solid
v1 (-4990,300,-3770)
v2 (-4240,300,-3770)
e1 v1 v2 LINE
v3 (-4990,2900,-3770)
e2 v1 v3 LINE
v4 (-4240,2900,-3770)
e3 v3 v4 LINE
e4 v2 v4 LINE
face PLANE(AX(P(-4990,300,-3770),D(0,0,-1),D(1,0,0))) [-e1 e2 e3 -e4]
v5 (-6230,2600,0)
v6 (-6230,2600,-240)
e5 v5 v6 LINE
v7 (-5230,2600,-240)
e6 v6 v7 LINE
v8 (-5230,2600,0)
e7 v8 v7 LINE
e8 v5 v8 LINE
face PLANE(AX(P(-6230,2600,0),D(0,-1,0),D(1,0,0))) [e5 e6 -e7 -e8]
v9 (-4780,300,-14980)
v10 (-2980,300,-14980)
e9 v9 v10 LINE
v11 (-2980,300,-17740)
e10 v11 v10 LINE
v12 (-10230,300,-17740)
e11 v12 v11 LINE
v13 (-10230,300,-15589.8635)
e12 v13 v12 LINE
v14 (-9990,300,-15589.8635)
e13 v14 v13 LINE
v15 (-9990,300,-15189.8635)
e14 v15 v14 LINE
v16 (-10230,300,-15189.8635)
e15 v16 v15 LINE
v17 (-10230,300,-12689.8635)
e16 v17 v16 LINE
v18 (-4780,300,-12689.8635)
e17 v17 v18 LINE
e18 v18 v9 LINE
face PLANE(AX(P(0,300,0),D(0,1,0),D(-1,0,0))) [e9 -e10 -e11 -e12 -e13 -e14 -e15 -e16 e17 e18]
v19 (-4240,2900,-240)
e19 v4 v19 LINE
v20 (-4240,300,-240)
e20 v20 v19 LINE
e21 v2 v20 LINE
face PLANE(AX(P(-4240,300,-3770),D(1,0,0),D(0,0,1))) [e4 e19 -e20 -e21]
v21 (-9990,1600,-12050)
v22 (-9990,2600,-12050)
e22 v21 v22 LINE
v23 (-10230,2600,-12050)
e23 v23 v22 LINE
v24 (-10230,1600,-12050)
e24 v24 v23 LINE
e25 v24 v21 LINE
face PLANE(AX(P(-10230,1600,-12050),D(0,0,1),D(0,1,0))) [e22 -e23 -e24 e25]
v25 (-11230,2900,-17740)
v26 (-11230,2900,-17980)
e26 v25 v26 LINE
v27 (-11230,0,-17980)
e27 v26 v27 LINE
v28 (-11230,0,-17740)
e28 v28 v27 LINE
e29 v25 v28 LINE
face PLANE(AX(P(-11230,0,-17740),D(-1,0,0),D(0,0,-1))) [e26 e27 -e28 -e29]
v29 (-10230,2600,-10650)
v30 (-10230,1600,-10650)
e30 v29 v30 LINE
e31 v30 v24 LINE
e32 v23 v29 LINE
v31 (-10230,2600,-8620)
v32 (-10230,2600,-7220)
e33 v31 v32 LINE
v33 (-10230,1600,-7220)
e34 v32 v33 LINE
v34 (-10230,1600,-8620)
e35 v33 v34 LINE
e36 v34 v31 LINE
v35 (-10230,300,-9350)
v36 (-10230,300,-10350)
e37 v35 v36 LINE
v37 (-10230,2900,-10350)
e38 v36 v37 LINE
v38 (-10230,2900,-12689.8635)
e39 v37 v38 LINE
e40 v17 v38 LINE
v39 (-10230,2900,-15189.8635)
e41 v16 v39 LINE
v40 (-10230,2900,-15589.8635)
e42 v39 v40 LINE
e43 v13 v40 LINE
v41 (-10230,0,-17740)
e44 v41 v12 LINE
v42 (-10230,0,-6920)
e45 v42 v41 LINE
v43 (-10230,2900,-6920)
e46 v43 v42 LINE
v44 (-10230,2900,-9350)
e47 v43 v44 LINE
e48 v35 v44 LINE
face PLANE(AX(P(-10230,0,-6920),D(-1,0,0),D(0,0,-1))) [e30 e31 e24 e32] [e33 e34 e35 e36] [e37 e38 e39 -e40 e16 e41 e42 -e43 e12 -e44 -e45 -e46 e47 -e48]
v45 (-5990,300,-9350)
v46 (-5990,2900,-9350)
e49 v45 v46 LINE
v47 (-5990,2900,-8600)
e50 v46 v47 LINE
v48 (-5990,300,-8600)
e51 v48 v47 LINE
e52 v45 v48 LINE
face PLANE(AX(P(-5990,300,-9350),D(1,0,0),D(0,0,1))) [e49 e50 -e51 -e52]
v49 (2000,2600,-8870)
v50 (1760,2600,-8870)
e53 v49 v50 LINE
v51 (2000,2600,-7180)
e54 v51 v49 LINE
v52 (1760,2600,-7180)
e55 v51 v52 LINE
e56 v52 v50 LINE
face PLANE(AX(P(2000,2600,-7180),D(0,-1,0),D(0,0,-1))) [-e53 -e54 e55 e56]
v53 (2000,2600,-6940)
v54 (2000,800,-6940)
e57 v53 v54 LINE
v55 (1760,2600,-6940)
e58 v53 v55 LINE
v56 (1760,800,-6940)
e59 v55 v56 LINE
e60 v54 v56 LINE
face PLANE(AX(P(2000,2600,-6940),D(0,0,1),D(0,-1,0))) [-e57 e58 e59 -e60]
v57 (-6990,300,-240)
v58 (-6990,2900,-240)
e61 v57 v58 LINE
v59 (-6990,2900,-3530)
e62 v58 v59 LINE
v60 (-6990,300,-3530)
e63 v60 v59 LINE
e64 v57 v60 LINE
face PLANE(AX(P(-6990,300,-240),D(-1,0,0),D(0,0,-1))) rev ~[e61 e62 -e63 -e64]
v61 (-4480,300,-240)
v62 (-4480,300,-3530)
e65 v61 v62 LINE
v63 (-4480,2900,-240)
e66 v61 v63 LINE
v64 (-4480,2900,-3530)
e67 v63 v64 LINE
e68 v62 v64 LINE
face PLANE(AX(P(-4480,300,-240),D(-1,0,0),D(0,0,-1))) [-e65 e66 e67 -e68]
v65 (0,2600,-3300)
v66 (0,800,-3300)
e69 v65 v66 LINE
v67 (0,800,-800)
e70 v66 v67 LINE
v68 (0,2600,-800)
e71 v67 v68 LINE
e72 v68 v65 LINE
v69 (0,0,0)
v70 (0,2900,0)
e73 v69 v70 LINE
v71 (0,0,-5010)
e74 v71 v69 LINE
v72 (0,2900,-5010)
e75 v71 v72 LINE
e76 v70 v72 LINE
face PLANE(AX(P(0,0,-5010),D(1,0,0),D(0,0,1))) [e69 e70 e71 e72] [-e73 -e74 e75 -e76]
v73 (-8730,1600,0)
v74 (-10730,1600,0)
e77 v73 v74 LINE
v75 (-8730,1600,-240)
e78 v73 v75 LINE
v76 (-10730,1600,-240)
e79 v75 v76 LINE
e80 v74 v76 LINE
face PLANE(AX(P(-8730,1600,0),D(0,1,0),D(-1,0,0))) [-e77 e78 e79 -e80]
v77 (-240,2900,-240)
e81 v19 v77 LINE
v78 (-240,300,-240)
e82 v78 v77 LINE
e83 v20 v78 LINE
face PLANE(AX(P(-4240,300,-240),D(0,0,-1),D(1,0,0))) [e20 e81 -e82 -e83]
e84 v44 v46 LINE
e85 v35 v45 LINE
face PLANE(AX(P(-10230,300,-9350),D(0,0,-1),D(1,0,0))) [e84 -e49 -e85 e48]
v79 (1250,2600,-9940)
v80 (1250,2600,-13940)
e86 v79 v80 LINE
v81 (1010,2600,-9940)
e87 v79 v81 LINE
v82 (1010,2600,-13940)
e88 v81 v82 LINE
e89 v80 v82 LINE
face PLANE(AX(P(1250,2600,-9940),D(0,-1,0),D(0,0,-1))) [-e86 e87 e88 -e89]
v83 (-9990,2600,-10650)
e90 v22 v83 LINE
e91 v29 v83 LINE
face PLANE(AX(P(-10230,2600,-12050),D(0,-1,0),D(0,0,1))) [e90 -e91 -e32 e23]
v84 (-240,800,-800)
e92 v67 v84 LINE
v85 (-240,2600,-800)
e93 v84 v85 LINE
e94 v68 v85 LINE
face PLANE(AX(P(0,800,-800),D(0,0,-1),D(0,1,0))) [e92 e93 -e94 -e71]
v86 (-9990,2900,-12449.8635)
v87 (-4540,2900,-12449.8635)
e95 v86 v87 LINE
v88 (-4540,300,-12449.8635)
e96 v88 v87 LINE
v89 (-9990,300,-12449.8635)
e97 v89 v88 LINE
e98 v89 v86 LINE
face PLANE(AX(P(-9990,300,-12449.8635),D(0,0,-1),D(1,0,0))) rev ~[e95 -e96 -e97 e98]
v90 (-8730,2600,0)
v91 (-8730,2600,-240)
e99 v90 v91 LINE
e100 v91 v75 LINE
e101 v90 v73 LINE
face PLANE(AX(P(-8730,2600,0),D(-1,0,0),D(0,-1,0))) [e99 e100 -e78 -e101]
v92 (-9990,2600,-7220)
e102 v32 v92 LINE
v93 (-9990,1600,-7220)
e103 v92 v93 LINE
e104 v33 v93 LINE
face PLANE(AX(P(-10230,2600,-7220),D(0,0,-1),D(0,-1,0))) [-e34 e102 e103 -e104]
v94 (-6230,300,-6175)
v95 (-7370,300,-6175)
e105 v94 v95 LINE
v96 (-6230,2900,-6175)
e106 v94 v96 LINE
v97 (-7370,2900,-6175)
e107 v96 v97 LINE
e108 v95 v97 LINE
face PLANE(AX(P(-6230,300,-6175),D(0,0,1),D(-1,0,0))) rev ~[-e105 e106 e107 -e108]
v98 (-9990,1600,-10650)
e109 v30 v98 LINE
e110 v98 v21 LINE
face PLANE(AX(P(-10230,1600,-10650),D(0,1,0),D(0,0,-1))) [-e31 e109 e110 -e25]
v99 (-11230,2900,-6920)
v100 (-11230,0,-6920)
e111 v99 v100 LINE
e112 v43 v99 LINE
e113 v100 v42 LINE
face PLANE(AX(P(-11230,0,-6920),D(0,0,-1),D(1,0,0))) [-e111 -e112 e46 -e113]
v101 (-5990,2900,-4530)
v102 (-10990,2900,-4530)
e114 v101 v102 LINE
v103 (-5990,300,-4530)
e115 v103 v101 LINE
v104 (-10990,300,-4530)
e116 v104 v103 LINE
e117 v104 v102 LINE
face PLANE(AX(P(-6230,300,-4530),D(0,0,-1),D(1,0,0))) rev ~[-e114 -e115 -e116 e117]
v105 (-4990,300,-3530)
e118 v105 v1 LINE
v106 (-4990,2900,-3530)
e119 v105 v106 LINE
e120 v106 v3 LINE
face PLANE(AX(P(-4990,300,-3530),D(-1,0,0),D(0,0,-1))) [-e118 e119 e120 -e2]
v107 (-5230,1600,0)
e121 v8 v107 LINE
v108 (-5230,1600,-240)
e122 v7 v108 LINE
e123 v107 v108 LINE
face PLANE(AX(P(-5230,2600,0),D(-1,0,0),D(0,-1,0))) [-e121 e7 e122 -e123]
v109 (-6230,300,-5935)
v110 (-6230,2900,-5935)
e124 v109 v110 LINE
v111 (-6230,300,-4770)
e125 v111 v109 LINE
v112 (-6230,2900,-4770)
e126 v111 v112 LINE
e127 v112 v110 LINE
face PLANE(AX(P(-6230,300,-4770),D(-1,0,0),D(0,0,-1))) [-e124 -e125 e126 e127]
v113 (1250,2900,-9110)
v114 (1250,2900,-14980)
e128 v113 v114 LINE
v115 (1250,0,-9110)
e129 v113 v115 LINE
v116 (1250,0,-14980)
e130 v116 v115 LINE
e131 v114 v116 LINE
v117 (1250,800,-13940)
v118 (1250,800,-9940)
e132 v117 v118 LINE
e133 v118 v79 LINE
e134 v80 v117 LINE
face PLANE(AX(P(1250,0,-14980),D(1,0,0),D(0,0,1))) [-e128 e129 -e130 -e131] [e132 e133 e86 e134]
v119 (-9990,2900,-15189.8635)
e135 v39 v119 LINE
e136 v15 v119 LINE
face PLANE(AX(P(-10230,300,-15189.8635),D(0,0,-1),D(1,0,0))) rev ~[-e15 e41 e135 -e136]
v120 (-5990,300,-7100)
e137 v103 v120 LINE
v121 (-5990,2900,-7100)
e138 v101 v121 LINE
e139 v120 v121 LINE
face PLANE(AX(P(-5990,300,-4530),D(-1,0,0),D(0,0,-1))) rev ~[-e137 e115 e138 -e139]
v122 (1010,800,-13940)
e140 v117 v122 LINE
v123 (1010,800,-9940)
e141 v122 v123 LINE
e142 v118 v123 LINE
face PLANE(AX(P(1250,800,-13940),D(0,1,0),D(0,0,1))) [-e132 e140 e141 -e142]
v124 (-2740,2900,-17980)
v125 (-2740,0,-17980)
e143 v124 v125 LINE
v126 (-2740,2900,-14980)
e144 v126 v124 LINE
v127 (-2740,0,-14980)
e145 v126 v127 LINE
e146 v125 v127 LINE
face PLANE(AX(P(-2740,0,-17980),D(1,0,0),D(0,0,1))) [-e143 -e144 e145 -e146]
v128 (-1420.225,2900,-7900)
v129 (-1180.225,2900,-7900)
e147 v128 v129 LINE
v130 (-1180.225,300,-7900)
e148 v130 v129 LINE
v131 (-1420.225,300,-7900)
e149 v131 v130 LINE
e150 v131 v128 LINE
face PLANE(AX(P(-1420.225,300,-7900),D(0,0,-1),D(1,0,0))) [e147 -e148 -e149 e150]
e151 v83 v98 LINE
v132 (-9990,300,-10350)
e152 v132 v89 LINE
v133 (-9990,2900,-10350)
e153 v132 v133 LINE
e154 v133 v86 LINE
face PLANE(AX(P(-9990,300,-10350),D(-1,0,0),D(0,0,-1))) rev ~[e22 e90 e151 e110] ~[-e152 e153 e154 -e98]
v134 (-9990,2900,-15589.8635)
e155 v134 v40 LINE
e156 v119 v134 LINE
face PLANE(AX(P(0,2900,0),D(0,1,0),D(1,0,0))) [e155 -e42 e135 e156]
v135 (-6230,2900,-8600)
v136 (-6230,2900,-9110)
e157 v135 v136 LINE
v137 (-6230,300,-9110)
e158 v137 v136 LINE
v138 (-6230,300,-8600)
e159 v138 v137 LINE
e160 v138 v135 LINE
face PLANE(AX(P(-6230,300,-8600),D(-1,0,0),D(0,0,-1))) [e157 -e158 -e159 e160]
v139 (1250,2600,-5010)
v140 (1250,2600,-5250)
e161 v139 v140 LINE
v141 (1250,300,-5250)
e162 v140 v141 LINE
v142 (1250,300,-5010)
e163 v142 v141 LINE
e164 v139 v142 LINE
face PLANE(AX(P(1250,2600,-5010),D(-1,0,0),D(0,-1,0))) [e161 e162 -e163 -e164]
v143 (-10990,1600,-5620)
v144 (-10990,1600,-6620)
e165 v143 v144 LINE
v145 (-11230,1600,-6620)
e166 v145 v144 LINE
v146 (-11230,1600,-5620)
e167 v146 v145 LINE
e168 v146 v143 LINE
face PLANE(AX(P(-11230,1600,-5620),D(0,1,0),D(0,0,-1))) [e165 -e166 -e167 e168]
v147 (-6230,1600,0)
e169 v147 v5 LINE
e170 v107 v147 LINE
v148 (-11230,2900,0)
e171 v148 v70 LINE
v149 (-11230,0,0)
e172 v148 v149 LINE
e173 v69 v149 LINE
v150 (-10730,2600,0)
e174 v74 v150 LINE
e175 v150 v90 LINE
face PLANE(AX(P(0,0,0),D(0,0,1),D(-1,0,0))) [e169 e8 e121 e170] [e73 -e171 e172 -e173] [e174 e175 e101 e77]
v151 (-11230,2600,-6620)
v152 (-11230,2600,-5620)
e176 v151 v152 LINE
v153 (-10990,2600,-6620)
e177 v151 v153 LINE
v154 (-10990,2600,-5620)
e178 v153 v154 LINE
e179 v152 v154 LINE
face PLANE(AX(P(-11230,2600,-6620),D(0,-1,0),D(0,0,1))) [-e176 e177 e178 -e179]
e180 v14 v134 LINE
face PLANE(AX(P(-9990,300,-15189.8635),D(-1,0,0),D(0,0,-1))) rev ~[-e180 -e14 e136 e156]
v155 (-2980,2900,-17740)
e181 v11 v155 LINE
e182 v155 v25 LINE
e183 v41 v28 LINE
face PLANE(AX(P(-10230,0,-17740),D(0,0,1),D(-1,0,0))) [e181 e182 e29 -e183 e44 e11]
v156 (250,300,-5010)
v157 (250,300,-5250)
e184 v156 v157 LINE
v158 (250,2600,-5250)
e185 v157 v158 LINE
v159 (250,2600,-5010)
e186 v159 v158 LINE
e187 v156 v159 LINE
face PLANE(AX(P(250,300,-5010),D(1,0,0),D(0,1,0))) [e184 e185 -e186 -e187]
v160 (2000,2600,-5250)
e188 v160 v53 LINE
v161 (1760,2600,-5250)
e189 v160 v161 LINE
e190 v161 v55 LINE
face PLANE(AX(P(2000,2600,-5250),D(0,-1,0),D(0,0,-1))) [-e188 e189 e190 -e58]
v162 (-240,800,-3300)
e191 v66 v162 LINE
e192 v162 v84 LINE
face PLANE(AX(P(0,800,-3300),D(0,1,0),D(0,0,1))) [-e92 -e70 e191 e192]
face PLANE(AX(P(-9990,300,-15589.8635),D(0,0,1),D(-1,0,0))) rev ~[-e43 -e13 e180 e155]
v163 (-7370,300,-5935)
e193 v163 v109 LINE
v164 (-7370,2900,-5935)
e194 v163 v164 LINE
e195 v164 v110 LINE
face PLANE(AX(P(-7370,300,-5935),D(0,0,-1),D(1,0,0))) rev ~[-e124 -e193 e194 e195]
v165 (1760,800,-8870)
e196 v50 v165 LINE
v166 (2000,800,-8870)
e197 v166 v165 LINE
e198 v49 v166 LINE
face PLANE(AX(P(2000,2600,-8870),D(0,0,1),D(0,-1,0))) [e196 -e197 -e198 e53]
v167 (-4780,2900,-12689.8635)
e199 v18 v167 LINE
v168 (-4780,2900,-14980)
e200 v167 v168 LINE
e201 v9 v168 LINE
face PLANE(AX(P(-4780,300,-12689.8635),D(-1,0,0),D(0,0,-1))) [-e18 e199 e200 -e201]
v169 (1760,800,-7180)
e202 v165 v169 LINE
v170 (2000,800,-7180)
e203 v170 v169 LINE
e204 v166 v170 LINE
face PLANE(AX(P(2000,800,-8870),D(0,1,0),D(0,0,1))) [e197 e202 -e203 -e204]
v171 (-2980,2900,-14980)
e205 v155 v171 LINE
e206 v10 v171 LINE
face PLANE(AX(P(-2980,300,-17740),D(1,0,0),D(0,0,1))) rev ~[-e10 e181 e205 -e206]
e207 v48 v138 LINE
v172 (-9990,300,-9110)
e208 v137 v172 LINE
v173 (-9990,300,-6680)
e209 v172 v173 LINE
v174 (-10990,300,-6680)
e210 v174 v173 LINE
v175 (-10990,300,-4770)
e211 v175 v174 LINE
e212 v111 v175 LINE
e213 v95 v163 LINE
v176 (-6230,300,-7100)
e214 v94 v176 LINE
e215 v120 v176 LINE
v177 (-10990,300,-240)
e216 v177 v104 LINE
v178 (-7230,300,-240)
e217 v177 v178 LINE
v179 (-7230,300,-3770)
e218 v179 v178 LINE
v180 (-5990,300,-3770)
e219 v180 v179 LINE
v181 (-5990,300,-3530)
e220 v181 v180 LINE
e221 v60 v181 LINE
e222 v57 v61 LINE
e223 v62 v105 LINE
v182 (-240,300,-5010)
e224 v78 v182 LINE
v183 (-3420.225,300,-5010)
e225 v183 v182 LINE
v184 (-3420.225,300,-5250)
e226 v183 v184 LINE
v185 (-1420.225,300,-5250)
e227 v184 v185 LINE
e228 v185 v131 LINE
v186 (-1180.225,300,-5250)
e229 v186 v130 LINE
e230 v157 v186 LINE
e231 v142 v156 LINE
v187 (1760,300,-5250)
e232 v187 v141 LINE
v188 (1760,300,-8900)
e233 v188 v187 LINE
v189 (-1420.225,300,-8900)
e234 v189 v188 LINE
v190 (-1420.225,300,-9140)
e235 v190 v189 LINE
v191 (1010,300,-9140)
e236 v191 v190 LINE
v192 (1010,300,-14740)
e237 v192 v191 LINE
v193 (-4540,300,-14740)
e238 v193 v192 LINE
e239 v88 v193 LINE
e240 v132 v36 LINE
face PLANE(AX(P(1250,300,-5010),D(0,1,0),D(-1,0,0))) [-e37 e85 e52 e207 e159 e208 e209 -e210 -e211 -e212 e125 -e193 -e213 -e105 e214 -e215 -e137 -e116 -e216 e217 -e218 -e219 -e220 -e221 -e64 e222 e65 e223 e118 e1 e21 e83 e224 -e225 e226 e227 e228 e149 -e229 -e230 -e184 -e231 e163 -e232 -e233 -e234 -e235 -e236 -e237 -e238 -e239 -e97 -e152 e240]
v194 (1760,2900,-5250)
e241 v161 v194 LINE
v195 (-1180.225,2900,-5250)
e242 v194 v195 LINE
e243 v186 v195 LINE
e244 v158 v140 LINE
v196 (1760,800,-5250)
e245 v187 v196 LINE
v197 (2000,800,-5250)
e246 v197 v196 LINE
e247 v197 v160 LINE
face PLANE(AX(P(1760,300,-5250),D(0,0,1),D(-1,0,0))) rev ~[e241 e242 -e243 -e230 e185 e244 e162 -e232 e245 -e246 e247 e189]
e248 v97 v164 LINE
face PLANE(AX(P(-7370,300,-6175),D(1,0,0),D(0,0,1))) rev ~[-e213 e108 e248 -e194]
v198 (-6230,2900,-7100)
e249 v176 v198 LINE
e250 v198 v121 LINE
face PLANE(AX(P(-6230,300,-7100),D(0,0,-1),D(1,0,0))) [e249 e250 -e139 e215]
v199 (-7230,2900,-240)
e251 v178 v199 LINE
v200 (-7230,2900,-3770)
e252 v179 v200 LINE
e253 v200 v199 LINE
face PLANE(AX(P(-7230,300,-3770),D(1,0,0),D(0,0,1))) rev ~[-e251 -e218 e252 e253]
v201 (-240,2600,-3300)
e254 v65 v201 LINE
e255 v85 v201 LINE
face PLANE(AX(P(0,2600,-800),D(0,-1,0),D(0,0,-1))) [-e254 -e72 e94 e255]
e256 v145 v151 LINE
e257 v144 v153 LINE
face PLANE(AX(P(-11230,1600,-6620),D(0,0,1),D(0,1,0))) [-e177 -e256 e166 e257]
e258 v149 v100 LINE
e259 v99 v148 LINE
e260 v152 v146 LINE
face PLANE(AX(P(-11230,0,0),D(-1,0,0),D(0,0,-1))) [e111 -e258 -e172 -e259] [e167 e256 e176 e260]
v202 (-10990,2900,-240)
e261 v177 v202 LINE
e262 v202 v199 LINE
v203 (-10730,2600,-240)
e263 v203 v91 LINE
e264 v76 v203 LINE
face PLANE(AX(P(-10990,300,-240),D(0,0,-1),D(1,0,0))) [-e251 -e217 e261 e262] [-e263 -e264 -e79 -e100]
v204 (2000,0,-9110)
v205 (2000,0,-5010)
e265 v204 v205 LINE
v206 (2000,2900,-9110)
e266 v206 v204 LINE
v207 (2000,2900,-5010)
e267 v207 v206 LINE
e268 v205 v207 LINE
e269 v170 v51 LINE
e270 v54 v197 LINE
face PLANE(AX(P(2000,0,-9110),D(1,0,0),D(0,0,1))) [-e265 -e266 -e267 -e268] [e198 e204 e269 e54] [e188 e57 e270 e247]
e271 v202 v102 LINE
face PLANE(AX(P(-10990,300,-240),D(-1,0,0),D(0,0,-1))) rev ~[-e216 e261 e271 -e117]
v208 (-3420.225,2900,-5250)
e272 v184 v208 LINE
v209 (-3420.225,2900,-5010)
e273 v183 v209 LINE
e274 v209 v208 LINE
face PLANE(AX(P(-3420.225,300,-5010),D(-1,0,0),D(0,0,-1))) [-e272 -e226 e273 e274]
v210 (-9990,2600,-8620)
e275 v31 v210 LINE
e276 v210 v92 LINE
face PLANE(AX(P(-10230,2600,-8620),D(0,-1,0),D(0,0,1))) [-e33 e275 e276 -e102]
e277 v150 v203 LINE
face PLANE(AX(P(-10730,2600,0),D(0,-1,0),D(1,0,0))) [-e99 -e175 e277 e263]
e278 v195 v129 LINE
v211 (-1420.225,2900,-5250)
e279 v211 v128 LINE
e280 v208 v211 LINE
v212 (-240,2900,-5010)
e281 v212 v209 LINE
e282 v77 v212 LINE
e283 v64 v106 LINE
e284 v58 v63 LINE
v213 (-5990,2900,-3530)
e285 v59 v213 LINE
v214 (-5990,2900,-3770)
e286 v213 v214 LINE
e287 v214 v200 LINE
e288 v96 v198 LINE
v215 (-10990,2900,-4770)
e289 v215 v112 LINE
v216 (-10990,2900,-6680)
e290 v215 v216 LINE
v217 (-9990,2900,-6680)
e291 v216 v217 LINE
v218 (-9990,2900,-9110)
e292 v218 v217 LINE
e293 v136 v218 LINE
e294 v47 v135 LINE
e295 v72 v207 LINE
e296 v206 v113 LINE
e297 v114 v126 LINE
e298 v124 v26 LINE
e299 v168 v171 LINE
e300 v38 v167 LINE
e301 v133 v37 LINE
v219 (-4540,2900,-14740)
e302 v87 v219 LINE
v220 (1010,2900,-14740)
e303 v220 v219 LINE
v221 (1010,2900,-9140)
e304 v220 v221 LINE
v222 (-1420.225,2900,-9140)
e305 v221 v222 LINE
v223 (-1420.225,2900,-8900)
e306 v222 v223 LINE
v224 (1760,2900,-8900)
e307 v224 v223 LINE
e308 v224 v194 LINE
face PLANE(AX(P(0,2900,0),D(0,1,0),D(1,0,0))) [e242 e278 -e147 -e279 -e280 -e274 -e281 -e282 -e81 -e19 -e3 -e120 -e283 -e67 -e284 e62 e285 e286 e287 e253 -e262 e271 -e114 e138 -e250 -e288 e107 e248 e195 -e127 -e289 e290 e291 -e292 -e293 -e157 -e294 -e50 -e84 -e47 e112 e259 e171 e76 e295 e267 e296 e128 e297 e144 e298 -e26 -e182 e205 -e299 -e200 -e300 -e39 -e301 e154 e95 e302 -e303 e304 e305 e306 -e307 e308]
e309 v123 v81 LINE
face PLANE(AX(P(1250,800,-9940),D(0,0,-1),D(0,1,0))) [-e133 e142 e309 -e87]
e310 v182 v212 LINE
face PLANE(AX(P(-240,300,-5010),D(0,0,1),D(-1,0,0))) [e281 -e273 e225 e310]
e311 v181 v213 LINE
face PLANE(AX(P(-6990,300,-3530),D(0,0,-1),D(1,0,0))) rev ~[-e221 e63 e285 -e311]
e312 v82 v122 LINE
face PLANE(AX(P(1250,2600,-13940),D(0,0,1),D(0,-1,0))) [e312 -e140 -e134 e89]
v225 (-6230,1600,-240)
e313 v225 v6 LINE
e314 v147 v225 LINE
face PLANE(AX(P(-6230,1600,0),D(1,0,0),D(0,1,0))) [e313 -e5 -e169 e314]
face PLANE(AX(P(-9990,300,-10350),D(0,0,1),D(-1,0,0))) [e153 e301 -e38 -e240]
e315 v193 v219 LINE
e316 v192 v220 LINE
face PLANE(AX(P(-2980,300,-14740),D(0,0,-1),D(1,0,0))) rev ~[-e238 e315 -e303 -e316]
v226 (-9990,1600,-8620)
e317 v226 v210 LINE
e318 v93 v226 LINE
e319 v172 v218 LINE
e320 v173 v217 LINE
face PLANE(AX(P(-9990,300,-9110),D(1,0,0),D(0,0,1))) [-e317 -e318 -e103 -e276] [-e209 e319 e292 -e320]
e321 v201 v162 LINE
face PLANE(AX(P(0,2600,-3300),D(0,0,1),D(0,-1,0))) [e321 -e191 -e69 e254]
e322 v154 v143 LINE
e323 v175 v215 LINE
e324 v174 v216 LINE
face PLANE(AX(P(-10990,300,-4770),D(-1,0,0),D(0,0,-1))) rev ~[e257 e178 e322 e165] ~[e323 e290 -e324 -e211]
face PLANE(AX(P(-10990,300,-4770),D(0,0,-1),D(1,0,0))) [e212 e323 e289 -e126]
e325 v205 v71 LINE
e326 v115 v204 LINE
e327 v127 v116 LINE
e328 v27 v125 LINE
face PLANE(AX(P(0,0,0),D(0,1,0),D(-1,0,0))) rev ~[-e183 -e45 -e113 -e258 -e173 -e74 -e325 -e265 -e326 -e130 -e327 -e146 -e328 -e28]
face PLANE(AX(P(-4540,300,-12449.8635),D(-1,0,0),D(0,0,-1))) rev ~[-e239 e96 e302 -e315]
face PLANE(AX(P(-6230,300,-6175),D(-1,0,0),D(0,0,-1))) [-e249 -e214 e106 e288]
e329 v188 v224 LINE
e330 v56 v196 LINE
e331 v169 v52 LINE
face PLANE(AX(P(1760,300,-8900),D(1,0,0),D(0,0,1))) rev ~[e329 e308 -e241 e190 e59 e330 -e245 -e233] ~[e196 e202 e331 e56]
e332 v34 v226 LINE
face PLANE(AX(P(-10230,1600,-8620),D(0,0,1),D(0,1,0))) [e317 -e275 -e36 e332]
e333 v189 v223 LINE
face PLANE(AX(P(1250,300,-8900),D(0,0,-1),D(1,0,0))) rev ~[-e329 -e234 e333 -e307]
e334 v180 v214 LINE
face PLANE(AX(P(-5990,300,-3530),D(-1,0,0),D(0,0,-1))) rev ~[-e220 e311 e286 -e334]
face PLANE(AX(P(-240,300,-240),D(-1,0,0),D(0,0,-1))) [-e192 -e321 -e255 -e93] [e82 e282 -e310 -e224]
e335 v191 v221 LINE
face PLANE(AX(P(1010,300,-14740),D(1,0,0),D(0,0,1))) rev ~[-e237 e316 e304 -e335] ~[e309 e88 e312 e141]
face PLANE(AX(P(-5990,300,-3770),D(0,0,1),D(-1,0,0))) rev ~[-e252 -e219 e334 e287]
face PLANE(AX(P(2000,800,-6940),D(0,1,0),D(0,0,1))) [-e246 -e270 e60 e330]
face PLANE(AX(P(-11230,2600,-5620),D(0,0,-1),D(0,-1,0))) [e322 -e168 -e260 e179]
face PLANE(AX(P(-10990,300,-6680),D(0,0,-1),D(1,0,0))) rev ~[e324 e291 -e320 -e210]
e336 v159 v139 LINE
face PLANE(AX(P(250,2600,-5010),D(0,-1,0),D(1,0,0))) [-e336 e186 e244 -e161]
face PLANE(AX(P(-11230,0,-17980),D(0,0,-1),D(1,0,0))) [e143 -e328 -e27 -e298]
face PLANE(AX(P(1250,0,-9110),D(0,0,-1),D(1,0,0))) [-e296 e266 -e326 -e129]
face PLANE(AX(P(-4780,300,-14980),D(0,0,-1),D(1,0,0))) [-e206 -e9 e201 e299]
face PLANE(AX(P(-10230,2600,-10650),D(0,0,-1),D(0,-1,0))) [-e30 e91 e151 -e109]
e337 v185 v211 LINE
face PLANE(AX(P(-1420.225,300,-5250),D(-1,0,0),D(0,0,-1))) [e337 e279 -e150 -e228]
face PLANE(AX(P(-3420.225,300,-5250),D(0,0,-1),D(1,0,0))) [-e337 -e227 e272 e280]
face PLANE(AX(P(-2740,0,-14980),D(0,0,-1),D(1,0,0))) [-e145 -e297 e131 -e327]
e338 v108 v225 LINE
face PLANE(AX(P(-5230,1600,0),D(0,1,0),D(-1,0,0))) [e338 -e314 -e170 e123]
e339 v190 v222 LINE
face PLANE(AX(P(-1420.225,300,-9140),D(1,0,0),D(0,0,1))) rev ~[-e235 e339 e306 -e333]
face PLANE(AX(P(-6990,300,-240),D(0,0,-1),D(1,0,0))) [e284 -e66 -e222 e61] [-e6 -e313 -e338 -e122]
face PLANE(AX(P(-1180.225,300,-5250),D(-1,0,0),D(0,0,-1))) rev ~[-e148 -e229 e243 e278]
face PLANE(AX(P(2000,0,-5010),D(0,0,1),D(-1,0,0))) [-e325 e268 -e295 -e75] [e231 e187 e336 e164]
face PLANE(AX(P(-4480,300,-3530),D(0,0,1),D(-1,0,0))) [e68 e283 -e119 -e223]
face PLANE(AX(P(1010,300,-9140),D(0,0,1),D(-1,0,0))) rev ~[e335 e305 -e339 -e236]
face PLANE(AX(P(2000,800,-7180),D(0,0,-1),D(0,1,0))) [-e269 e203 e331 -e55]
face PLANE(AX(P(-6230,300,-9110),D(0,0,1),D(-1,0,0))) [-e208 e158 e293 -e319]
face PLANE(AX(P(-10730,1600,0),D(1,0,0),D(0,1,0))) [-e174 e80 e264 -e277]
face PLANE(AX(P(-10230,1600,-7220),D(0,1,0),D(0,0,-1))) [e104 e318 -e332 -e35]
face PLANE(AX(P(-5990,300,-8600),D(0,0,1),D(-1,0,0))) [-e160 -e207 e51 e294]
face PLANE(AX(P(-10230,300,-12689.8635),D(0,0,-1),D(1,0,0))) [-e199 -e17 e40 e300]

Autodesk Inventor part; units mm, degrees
ref_plane "YZ Plane" through (0, 0, 0) normal (1, 0, 0) x (0, 1, 0)
ref_plane "XZ Plane" through (0, 0, 0) normal (0, 1, 0) x (-1, 0, 0)
ref_plane "XY Plane" through (0, 0, 0) normal (0, 0, 1) x (1, 0, 0)
sketch "Skizze1" plane through (0, 0, 0) normal (0, 1, 0) x (-1, 0, 0)
  line L0 (0, 0) -> (11230, 0)
  line L1 (11230, 0) -> (11230, -6920)
  line L2 (11230, -6920) -> (10230, -6920)
  line L3 (10230, -6920) -> (10230, -17740)
  line L4 (10230, -17740) -> (11230, -17740)
  line L5 (11230, -17740) -> (11230, -17980)
  line L6 (11230, -17980) -> (2740, -17980)
  line L7 (2740, -17980) -> (2740, -14980)
  line L8 (2740, -14980) -> (-1250, -14980)
  line L9 (-1250, -14980) -> (-1250, -9110)
  line L10 (-1250, -9110) -> (-2000, -9110)
  line L11 (-2000, -9110) -> (-2000, -5010)
  line L12 (-2000, -5010) -> (0, -5010)
  line L13 (0, -5010) -> (0, 0)
  dimension "d0" = 11230
  dimension "d1" = 6920
  dimension "d2" = 1000
  dimension "d3" = 10820
  dimension "d4" = 1000
  dimension "d5" = 240
  dimension "d6" = 8490
  dimension "d11" = 3000
  dimension "d12" = 3990
  dimension "d13" = 5870
  dimension "d14" = 750
  dimension "d15" = 4100
  dimension "d16" = 2000
extrude "Fundament" add sketch "Skizze1" along normal blind 300
sketch "Skizze3" plane through (0, 300, 0) normal (0, 1, 0) x (1, 0, 0)
  line L0 (0, 5010) -> (2000, 5010) projected
  line L1 (2000, 5010) -> (2000, 9110) projected
  line L2 (2000, 9110) -> (1250, 9110) projected
  line L3 (1250, 9110) -> (1250, 14980) projected
  line L4 (1250, 14980) -> (-2740, 14980) projected
  line L5 (-11230, 0) -> (0, 0)
  line L6 (0, 0) -> (0, 5010)
  line L7 (-240, 5010) -> (-1180.225, 5010)
  line L8 (-1180.225, 5250) -> (-1180.225, 7900)
  line L9 (-1180.225, 8900) -> (1250, 8900)
  line L10 (1250, 9110) -> (1250, 14980)
  line L11 (-2740, 14980) -> (-2740, 17980)
  line L12 (-2740, 17980) -> (-11230, 17980)
  line L13 (-10230, 6920) -> (-11230, 6920)
  line L14 (-11230, 6920) -> (-11230, 0)
  line L15 (-11230, 0) -> (-11230, 6920)
  line L16 (-11230, 0) -> (-11230, 6920)
  line L17 (-11230, 6920) -> (-10230, 6920)
  line L18 (-10230, 17740) -> (-11230, 17740)
  line L19 (-10230, 17740) -> (-11230, 17740)
  line L20 (-11230, 17980) -> (-2740, 17980)
  line L21 (-11230, 17740) -> (-11230, 17980)
  line L22 (-11230, 17980) -> (-2740, 17980)
  line L23 (-2740, 17980) -> (-2740, 14980)
  line L24 (1250, 14980) -> (1250, 9110)
  line L25 (-1180.225, 7900) -> (-1180.225, 5250)
  line L26 (0, 5010) -> (0, 0)
  line L27 (0, 0) -> (-11230, 0)
  line L28 (-240, 240) -> (-240, 5010)
  line L29 (-1420.225, 5250) -> (-1420.225, 7900)
  line L30 (-1420.225, 7900) -> (-1180.225, 7900)
  line L31 (-9990, 17740) -> (-6230, 17740)
  line L32 (-5990, 17740) -> (-2980, 17740)
  line L33 (-2980, 17740) -> (-2980, 14980)
  line L34 (-2980, 14740) -> (1010, 14740)
  line L35 (1010, 14740) -> (1010, 9140)
  line L36 (1010, 9140) -> (-1420.225, 9140)
  line L37 (-1420.225, 9140) -> (-1420.225, 8900)
  line L38 (-1420.225, 8900) -> (-952.7911, 8900)
  line L39 (-3420.225, 4770) -> (-3420.225, 5010)
  line L40 (-3420.225, 5010) -> (-2980, 5010)
  line L41 (-10990, 4530) -> (-6230, 4530)
  line L42 (-6230, 4530) -> (-5990, 4530)
  line L43 (-10990, 4770) -> (-6230, 4770)
  line L44 (-6990, 240) -> (-6990, 3530)
  line L45 (-6990, 3530) -> (-5990, 3530)
  line L46 (-5990, 3530) -> (-5990, 3770)
  line L47 (-5990, 3770) -> (-7230, 3770)
  line L48 (-7230, 3770) -> (-7230, 240)
  line L49 (-4480, 240) -> (-4480, 3530)
  line L50 (-4480, 3530) -> (-4990, 3530)
  line L51 (-4990, 3530) -> (-4990, 3770)
  line L52 (-4990, 3770) -> (-4240, 3770)
  line L53 (-4240, 3770) -> (-4240, 240)
  line L54 (-10990, 6680) -> (-9990, 6680)
  line L55 (-10230, 6920) -> (-10230, 17740) projected
  line L56 (-10230, 6920) -> (-10230, 9350)
  line L57 (-10230, 9350) -> (-5990, 9350)
  line L58 (-5990, 9350) -> (-5990, 8600)
  line L59 (-5990, 8600) -> (-6230, 8600)
  line L60 (-6230, 8600) -> (-6230, 9110)
  line L61 (-6230, 9110) -> (-9990, 9110)
  line L62 (-9990, 9110) -> (-9990, 6680)
  line L63 (-5990, 4530) -> (-5990, 7100)
  line L64 (-5990, 7100) -> (-5991.4024, 7100)
  line L65 (-5991.4024, 7100) -> (-5991.4024, 4770)
  line L66 (-8610, 4770) -> (-8610, 6270)
  line L67 (-8610, 6270) -> (-8370, 6270)
  line L68 (-8370, 6270) -> (-8370, 4770)
  line L69 (-6230, 6175) -> (-7370, 6175)
  line L70 (-7370, 6175) -> (-7370, 5935)
  line L71 (-7370, 5935) -> (-6230, 5935)
  line L72 (2000, 9110) -> (2000, 5010) projected
  line L73 (0, 5010) -> (2000, 5010)
  line L74 (2000, 5010) -> (2000, 9110)
  line L75 (1250, 9110) -> (2000, 9110) projected
  line L76 (2000, 9110) -> (1250, 9110)
  line L77 (-1180.225, 5010) -> (-1420.225, 5010)
  line L78 (-3420.225, 5010) -> (-3420.225, 5250)
  line L79 (-3420.225, 5250) -> (-1420.225, 5250)
  line L80 (-1420.225, 5010) -> (-3420.225, 5010)
  line L81 (1250, 8900) -> (1760, 8900)
  line L82 (1760, 8900) -> (1760, 5250)
  line L83 (1760, 5250) -> (-1180.225, 5250)
  line L84 (-2740, 14980) -> (1250, 14980)
  line L85 (-10230, 17740) -> (-10230, 6920) projected
  line L86 (-9990, 12449.8635) -> (-4540, 12449.8635)
  line L87 (-4540, 12449.8635) -> (-4540, 14740)
  line L88 (-4540, 14740) -> (-2980, 14740)
  line L89 (-10230, 12689.8635) -> (-4780, 12689.8635)
  line L90 (-4780, 12689.8635) -> (-4780, 14980)
  line L91 (-4780, 14980) -> (-2980, 14980)
  line L92 (-10230, 15189.8635) -> (-9990, 15189.8635)
  line L93 (-9990, 15189.8635) -> (-9990, 15589.8635)
  line L94 (-9990, 15589.8635) -> (-10230, 15589.8635)
  line L95 (-10230, 15589.8635) -> (-10230, 15189.8635)
  line L96 (-10230, 12449.8635) -> (-10230, 10350)
  line L97 (-9990, 10350) -> (-9990, 12449.8635)
  line L98 (-9990, 10350) -> (-10230, 10350)
  line L99 (-10990, 240) -> (-7230, 240)
  line L100 (-6990, 240) -> (-4480, 240)
  line L101 (-4240, 240) -> (-240, 240)
  line L102 (-10990, 240) -> (-10990, 4530)
  line L103 (-10990, 4770) -> (-10990, 6680)
  line L104 (-6230, 4770) -> (-6230, 5935)
  line L105 (-6230, 6175) -> (-6230, 7100)
  line L106 (-6230, 7100) -> (-5991.4024, 7100)
  line L107 (-10230, 12449.8635) -> (-10230, 12689.8635)
  line L108 (-9990, 17740) -> (-10230, 17740)
  line L109 (-5990, 17740) -> (-6230, 17740)
  dimension "d22" = 240
  dimension "d24" = 240
  dimension "d25" = 1000
  dimension "d26" = 240
  dimension "d27" = 240
  dimension "d28" = 240
  dimension "d30" = 240
  dimension "d31" = 240
  dimension "d33" = 240
  dimension "d42" = 240
  dimension "d43" = 240
  dimension "d44" = 240
  dimension "d45" = 240
  dimension "d47" = 2510
  dimension "d48" = 1000
  dimension "d49" = 1000
  dimension "d50" = 240
  dimension "d51" = 240
  dimension "d52" = 90
  dimension "d55" = 2202.7911
  dimension "d56" = 7480
  dimension "d57" = 2430
  dimension "d58" = 750
  dimension "d59" = 240
  dimension "d60" = 240
  dimension "d61" = 240
  dimension "d62" = 1500
  dimension "d63" = 1500
  dimension "d64" = 240
  dimension "d65" = 1000
  dimension "d66" = 240
  dimension "d67" = 240
  dimension "d68" = 240
  dimension "d69" = 240
  dimension "d70" = 240
  dimension "d71" = 5870
  dimension "d72" = 240
  dimension "d73" = 240
  dimension "d74" = 5690
  dimension "d75" = 240
  dimension "d76" = 5050.1365
  dimension "d77" = 2500
  dimension "d78" = 400
  dimension "d79" = 240
  dimension "d80" = 1000
  dimension "d81" = 90
  dimension "d82" = 90
  dimension "d83" = 90
  dimension "d84" = 30
  dimension "d85" = 3860
  dimension "d86" = 8870
  dimension "d87" = 9110
  dimension "d88" = 2010
  dimension "d89" = 5580
  dimension "d90" = 2935
  dimension "d91" = 2190
  dimension "d92" = 750
  dimension "d93" = 2000
  dimension "d94" = 3180.225
  dimension "d95" = 3420.225
  dimension "d96" = 4740
  dimension "d97" = 5420.225
  dimension "d98" = 6240
  dimension "d99" = 6540
extrude "Wände" add sketch "Skizze3" along normal blind 2600 contours L6 L5 L14 L13 L55 L57 L58 L59 L60 L61 L62 L54 L103 L43 L104 L71 L70 L69 L105 L106 L64 L63 L42 L41 L102 L99 L48 L47 L46 L45 L44 L100 L49 L50 L51 L52 L53 L101 L28 L7 L77 L80 L40 L78 L79 L29 L30 L8 L83 L82 L81 L9 L38 L37 L36 L35 L34 L88 L87 L86 L97 L98 L89 L90 L91 L33 L32 L109 L31 L108 L18 L21 L12 L11 L4 L3 L2 L1 L0 | L55 L94 L93 L92
sketch "Skizze4" plane through (-11230, 0, 0) normal (0, 0, 1) x (1, 0, 0)
  line L0 (500, 2600) -> (2500, 2600)
  line L1 (2500, 2600) -> (2500, 1600)
  line L2 (2500, 1600) -> (500, 1600)
  line L3 (500, 1600) -> (500, 2600)
  line L4 (5000, 2600) -> (6000, 2600)
  line L5 (6000, 2600) -> (6000, 1600)
  line L6 (6000, 1600) -> (5000, 1600)
  line L7 (5000, 1600) -> (5000, 2600)
  line L8 (0, 2900) -> (11230, 2900) projected
  line L9 (0, 0) -> (0, 2900) projected
  dimension "d191" = 2500
  dimension "d192" = 1000
  dimension "d193" = 300
  dimension "d194" = 1000
  dimension "d195" = 2000
  dimension "d196" = 500
extrude "Fenster_West" cut sketch "Skizze4" against normal blind 240
sketch "Skizze5" plane through (0, 0, 0) normal (1, 0, 0) x (0, 0, -1)
  line L0 (0, 2900) -> (5010, 2900) projected
  line L1 (0, 0) -> (0, 2900) projected
  line L2 (800, 2600) -> (3300, 2600)
  line L3 (3300, 2600) -> (3300, 800)
  line L4 (3300, 800) -> (800, 800)
  line L5 (800, 800) -> (800, 2600)
  dimension "d140" = 800
  dimension "d141" = 300
  dimension "d142" = 1800
  dimension "d143" = 2500
extrude "Fenster_Süd_1" cut sketch "Skizze5" against normal blind 240
sketch "Skizze6" plane through (1250, 0, -9110) normal (1, 0, 0) x (0, 0, -1)
  line L0 (830, 2600) -> (4830, 2600)
  line L1 (4830, 2600) -> (4830, 800)
  line L2 (4830, 800) -> (830, 800)
  line L3 (830, 800) -> (830, 2600)
  line L4 (30, 300) -> (30, 2900) projected
  line L5 (0, 2900) -> (5870, 2900) projected
  point P0 (-9110, 0)
  dimension "d146" = 800
  dimension "d147" = 1800
  dimension "d148" = 4000
  dimension "d197" = 300
extrude "Fenster_Süd_2" cut sketch "Skizze6" against normal blind 240
sketch "Skizze7" plane through (0, 0, -5010) normal (0, 0, 1) x (1, 0, 0)
  line L0 (0, 2900) -> (2000, 2900) projected
  line L1 (0, 0) -> (0, 2900) projected
  line L2 (250, 2600) -> (1250, 2600)
  line L3 (1250, 2600) -> (1250, 300)
  line L4 (1250, 300) -> (250, 300)
  line L5 (250, 300) -> (250, 2600)
  line L6 (-1180.225, 300) -> (1760, 300) projected
  dimension "d162" = 250
  dimension "d163" = 1000
  dimension "d165" = 300
extrude "Fenster_Wintergarten_1" cut sketch "Skizze7" against normal blind 240
sketch "Skizze8" plane through (2000, 0, -5010) normal (1, 0, 0) x (0, 0, -1)
  line L0 (4100, 0) -> (4100, 2900) projected
  line L1 (0, 2900) -> (4100, 2900) projected
  line L2 (0, 0) -> (0, 2900) projected
  line L3 (240, 2600) -> (1930, 2600)
  line L4 (1930, 2600) -> (1930, 800)
  line L5 (1930, 800) -> (240, 800)
  line L6 (240, 800) -> (240, 2600)
  line L7 (2170, 2600) -> (3860, 2600)
  line L8 (3860, 2600) -> (3860, 800)
  line L9 (3860, 800) -> (2170, 800)
  line L10 (2170, 800) -> (2170, 2600)
  point P0 (-5010, 0)
  dimension "d168" = 240
  dimension "d169" = 240
  dimension "d170" = 240
  dimension "d171" = 1690
  dimension "d172" = 1800
  dimension "d173" = 1800
  dimension "d174" = 300
extrude "Fenster_Wintergarten_2" cut sketch "Skizze8" against normal blind 240
sketch "Skizze9" plane through (-10230, 0, -17740) normal (-1, 0, 0) x (0, 0, 1)
  line L0 (10820, 0) -> (10820, 2900) projected
  line L1 (7390, 300) -> (7390, 2900) projected
  line L2 (5050.1365, 2900) -> (7390, 2900) projected
  line L3 (5690, 2600) -> (7090, 2600)
  line L4 (7090, 2600) -> (7090, 1600)
  line L5 (7090, 1600) -> (5690, 1600)
  line L6 (5690, 1600) -> (5690, 2600)
  line L7 (9120, 2600) -> (10520, 2600)
  line L8 (10520, 2600) -> (10520, 1600)
  line L9 (10520, 1600) -> (9120, 1600)
  line L10 (9120, 1600) -> (9120, 2600)
  point P0 (17740, 0)
  dimension "d177" = 300
  dimension "d178" = 1000
  dimension "d179" = 300
  dimension "d180" = 1400
  dimension "d181" = 300
  dimension "d182" = 1400
extrude "Fenster_Nord" cut sketch "Skizze9" against normal blind 240
sketch "Skizze10" plane through (-11230, 0, -6920) normal (-1, 0, 0) x (0, 0, 1)
  line L0 (0, 2900) -> (6920, 2900) projected
  line L1 (0, 0) -> (0, 2900) projected
  line L2 (300, 2600) -> (1300, 2600)
  line L3 (1300, 2600) -> (1300, 1600)
  line L4 (1300, 1600) -> (300, 1600)
  line L5 (300, 1600) -> (300, 2600)
  dimension "d185" = 300
  dimension "d186" = 300
  dimension "d187" = 1000
  dimension "d188" = 1000
extrude "Fenster_Wäscheraum" cut sketch "Skizze10" against normal blind 240
properties part number "Erdgeschoss"
